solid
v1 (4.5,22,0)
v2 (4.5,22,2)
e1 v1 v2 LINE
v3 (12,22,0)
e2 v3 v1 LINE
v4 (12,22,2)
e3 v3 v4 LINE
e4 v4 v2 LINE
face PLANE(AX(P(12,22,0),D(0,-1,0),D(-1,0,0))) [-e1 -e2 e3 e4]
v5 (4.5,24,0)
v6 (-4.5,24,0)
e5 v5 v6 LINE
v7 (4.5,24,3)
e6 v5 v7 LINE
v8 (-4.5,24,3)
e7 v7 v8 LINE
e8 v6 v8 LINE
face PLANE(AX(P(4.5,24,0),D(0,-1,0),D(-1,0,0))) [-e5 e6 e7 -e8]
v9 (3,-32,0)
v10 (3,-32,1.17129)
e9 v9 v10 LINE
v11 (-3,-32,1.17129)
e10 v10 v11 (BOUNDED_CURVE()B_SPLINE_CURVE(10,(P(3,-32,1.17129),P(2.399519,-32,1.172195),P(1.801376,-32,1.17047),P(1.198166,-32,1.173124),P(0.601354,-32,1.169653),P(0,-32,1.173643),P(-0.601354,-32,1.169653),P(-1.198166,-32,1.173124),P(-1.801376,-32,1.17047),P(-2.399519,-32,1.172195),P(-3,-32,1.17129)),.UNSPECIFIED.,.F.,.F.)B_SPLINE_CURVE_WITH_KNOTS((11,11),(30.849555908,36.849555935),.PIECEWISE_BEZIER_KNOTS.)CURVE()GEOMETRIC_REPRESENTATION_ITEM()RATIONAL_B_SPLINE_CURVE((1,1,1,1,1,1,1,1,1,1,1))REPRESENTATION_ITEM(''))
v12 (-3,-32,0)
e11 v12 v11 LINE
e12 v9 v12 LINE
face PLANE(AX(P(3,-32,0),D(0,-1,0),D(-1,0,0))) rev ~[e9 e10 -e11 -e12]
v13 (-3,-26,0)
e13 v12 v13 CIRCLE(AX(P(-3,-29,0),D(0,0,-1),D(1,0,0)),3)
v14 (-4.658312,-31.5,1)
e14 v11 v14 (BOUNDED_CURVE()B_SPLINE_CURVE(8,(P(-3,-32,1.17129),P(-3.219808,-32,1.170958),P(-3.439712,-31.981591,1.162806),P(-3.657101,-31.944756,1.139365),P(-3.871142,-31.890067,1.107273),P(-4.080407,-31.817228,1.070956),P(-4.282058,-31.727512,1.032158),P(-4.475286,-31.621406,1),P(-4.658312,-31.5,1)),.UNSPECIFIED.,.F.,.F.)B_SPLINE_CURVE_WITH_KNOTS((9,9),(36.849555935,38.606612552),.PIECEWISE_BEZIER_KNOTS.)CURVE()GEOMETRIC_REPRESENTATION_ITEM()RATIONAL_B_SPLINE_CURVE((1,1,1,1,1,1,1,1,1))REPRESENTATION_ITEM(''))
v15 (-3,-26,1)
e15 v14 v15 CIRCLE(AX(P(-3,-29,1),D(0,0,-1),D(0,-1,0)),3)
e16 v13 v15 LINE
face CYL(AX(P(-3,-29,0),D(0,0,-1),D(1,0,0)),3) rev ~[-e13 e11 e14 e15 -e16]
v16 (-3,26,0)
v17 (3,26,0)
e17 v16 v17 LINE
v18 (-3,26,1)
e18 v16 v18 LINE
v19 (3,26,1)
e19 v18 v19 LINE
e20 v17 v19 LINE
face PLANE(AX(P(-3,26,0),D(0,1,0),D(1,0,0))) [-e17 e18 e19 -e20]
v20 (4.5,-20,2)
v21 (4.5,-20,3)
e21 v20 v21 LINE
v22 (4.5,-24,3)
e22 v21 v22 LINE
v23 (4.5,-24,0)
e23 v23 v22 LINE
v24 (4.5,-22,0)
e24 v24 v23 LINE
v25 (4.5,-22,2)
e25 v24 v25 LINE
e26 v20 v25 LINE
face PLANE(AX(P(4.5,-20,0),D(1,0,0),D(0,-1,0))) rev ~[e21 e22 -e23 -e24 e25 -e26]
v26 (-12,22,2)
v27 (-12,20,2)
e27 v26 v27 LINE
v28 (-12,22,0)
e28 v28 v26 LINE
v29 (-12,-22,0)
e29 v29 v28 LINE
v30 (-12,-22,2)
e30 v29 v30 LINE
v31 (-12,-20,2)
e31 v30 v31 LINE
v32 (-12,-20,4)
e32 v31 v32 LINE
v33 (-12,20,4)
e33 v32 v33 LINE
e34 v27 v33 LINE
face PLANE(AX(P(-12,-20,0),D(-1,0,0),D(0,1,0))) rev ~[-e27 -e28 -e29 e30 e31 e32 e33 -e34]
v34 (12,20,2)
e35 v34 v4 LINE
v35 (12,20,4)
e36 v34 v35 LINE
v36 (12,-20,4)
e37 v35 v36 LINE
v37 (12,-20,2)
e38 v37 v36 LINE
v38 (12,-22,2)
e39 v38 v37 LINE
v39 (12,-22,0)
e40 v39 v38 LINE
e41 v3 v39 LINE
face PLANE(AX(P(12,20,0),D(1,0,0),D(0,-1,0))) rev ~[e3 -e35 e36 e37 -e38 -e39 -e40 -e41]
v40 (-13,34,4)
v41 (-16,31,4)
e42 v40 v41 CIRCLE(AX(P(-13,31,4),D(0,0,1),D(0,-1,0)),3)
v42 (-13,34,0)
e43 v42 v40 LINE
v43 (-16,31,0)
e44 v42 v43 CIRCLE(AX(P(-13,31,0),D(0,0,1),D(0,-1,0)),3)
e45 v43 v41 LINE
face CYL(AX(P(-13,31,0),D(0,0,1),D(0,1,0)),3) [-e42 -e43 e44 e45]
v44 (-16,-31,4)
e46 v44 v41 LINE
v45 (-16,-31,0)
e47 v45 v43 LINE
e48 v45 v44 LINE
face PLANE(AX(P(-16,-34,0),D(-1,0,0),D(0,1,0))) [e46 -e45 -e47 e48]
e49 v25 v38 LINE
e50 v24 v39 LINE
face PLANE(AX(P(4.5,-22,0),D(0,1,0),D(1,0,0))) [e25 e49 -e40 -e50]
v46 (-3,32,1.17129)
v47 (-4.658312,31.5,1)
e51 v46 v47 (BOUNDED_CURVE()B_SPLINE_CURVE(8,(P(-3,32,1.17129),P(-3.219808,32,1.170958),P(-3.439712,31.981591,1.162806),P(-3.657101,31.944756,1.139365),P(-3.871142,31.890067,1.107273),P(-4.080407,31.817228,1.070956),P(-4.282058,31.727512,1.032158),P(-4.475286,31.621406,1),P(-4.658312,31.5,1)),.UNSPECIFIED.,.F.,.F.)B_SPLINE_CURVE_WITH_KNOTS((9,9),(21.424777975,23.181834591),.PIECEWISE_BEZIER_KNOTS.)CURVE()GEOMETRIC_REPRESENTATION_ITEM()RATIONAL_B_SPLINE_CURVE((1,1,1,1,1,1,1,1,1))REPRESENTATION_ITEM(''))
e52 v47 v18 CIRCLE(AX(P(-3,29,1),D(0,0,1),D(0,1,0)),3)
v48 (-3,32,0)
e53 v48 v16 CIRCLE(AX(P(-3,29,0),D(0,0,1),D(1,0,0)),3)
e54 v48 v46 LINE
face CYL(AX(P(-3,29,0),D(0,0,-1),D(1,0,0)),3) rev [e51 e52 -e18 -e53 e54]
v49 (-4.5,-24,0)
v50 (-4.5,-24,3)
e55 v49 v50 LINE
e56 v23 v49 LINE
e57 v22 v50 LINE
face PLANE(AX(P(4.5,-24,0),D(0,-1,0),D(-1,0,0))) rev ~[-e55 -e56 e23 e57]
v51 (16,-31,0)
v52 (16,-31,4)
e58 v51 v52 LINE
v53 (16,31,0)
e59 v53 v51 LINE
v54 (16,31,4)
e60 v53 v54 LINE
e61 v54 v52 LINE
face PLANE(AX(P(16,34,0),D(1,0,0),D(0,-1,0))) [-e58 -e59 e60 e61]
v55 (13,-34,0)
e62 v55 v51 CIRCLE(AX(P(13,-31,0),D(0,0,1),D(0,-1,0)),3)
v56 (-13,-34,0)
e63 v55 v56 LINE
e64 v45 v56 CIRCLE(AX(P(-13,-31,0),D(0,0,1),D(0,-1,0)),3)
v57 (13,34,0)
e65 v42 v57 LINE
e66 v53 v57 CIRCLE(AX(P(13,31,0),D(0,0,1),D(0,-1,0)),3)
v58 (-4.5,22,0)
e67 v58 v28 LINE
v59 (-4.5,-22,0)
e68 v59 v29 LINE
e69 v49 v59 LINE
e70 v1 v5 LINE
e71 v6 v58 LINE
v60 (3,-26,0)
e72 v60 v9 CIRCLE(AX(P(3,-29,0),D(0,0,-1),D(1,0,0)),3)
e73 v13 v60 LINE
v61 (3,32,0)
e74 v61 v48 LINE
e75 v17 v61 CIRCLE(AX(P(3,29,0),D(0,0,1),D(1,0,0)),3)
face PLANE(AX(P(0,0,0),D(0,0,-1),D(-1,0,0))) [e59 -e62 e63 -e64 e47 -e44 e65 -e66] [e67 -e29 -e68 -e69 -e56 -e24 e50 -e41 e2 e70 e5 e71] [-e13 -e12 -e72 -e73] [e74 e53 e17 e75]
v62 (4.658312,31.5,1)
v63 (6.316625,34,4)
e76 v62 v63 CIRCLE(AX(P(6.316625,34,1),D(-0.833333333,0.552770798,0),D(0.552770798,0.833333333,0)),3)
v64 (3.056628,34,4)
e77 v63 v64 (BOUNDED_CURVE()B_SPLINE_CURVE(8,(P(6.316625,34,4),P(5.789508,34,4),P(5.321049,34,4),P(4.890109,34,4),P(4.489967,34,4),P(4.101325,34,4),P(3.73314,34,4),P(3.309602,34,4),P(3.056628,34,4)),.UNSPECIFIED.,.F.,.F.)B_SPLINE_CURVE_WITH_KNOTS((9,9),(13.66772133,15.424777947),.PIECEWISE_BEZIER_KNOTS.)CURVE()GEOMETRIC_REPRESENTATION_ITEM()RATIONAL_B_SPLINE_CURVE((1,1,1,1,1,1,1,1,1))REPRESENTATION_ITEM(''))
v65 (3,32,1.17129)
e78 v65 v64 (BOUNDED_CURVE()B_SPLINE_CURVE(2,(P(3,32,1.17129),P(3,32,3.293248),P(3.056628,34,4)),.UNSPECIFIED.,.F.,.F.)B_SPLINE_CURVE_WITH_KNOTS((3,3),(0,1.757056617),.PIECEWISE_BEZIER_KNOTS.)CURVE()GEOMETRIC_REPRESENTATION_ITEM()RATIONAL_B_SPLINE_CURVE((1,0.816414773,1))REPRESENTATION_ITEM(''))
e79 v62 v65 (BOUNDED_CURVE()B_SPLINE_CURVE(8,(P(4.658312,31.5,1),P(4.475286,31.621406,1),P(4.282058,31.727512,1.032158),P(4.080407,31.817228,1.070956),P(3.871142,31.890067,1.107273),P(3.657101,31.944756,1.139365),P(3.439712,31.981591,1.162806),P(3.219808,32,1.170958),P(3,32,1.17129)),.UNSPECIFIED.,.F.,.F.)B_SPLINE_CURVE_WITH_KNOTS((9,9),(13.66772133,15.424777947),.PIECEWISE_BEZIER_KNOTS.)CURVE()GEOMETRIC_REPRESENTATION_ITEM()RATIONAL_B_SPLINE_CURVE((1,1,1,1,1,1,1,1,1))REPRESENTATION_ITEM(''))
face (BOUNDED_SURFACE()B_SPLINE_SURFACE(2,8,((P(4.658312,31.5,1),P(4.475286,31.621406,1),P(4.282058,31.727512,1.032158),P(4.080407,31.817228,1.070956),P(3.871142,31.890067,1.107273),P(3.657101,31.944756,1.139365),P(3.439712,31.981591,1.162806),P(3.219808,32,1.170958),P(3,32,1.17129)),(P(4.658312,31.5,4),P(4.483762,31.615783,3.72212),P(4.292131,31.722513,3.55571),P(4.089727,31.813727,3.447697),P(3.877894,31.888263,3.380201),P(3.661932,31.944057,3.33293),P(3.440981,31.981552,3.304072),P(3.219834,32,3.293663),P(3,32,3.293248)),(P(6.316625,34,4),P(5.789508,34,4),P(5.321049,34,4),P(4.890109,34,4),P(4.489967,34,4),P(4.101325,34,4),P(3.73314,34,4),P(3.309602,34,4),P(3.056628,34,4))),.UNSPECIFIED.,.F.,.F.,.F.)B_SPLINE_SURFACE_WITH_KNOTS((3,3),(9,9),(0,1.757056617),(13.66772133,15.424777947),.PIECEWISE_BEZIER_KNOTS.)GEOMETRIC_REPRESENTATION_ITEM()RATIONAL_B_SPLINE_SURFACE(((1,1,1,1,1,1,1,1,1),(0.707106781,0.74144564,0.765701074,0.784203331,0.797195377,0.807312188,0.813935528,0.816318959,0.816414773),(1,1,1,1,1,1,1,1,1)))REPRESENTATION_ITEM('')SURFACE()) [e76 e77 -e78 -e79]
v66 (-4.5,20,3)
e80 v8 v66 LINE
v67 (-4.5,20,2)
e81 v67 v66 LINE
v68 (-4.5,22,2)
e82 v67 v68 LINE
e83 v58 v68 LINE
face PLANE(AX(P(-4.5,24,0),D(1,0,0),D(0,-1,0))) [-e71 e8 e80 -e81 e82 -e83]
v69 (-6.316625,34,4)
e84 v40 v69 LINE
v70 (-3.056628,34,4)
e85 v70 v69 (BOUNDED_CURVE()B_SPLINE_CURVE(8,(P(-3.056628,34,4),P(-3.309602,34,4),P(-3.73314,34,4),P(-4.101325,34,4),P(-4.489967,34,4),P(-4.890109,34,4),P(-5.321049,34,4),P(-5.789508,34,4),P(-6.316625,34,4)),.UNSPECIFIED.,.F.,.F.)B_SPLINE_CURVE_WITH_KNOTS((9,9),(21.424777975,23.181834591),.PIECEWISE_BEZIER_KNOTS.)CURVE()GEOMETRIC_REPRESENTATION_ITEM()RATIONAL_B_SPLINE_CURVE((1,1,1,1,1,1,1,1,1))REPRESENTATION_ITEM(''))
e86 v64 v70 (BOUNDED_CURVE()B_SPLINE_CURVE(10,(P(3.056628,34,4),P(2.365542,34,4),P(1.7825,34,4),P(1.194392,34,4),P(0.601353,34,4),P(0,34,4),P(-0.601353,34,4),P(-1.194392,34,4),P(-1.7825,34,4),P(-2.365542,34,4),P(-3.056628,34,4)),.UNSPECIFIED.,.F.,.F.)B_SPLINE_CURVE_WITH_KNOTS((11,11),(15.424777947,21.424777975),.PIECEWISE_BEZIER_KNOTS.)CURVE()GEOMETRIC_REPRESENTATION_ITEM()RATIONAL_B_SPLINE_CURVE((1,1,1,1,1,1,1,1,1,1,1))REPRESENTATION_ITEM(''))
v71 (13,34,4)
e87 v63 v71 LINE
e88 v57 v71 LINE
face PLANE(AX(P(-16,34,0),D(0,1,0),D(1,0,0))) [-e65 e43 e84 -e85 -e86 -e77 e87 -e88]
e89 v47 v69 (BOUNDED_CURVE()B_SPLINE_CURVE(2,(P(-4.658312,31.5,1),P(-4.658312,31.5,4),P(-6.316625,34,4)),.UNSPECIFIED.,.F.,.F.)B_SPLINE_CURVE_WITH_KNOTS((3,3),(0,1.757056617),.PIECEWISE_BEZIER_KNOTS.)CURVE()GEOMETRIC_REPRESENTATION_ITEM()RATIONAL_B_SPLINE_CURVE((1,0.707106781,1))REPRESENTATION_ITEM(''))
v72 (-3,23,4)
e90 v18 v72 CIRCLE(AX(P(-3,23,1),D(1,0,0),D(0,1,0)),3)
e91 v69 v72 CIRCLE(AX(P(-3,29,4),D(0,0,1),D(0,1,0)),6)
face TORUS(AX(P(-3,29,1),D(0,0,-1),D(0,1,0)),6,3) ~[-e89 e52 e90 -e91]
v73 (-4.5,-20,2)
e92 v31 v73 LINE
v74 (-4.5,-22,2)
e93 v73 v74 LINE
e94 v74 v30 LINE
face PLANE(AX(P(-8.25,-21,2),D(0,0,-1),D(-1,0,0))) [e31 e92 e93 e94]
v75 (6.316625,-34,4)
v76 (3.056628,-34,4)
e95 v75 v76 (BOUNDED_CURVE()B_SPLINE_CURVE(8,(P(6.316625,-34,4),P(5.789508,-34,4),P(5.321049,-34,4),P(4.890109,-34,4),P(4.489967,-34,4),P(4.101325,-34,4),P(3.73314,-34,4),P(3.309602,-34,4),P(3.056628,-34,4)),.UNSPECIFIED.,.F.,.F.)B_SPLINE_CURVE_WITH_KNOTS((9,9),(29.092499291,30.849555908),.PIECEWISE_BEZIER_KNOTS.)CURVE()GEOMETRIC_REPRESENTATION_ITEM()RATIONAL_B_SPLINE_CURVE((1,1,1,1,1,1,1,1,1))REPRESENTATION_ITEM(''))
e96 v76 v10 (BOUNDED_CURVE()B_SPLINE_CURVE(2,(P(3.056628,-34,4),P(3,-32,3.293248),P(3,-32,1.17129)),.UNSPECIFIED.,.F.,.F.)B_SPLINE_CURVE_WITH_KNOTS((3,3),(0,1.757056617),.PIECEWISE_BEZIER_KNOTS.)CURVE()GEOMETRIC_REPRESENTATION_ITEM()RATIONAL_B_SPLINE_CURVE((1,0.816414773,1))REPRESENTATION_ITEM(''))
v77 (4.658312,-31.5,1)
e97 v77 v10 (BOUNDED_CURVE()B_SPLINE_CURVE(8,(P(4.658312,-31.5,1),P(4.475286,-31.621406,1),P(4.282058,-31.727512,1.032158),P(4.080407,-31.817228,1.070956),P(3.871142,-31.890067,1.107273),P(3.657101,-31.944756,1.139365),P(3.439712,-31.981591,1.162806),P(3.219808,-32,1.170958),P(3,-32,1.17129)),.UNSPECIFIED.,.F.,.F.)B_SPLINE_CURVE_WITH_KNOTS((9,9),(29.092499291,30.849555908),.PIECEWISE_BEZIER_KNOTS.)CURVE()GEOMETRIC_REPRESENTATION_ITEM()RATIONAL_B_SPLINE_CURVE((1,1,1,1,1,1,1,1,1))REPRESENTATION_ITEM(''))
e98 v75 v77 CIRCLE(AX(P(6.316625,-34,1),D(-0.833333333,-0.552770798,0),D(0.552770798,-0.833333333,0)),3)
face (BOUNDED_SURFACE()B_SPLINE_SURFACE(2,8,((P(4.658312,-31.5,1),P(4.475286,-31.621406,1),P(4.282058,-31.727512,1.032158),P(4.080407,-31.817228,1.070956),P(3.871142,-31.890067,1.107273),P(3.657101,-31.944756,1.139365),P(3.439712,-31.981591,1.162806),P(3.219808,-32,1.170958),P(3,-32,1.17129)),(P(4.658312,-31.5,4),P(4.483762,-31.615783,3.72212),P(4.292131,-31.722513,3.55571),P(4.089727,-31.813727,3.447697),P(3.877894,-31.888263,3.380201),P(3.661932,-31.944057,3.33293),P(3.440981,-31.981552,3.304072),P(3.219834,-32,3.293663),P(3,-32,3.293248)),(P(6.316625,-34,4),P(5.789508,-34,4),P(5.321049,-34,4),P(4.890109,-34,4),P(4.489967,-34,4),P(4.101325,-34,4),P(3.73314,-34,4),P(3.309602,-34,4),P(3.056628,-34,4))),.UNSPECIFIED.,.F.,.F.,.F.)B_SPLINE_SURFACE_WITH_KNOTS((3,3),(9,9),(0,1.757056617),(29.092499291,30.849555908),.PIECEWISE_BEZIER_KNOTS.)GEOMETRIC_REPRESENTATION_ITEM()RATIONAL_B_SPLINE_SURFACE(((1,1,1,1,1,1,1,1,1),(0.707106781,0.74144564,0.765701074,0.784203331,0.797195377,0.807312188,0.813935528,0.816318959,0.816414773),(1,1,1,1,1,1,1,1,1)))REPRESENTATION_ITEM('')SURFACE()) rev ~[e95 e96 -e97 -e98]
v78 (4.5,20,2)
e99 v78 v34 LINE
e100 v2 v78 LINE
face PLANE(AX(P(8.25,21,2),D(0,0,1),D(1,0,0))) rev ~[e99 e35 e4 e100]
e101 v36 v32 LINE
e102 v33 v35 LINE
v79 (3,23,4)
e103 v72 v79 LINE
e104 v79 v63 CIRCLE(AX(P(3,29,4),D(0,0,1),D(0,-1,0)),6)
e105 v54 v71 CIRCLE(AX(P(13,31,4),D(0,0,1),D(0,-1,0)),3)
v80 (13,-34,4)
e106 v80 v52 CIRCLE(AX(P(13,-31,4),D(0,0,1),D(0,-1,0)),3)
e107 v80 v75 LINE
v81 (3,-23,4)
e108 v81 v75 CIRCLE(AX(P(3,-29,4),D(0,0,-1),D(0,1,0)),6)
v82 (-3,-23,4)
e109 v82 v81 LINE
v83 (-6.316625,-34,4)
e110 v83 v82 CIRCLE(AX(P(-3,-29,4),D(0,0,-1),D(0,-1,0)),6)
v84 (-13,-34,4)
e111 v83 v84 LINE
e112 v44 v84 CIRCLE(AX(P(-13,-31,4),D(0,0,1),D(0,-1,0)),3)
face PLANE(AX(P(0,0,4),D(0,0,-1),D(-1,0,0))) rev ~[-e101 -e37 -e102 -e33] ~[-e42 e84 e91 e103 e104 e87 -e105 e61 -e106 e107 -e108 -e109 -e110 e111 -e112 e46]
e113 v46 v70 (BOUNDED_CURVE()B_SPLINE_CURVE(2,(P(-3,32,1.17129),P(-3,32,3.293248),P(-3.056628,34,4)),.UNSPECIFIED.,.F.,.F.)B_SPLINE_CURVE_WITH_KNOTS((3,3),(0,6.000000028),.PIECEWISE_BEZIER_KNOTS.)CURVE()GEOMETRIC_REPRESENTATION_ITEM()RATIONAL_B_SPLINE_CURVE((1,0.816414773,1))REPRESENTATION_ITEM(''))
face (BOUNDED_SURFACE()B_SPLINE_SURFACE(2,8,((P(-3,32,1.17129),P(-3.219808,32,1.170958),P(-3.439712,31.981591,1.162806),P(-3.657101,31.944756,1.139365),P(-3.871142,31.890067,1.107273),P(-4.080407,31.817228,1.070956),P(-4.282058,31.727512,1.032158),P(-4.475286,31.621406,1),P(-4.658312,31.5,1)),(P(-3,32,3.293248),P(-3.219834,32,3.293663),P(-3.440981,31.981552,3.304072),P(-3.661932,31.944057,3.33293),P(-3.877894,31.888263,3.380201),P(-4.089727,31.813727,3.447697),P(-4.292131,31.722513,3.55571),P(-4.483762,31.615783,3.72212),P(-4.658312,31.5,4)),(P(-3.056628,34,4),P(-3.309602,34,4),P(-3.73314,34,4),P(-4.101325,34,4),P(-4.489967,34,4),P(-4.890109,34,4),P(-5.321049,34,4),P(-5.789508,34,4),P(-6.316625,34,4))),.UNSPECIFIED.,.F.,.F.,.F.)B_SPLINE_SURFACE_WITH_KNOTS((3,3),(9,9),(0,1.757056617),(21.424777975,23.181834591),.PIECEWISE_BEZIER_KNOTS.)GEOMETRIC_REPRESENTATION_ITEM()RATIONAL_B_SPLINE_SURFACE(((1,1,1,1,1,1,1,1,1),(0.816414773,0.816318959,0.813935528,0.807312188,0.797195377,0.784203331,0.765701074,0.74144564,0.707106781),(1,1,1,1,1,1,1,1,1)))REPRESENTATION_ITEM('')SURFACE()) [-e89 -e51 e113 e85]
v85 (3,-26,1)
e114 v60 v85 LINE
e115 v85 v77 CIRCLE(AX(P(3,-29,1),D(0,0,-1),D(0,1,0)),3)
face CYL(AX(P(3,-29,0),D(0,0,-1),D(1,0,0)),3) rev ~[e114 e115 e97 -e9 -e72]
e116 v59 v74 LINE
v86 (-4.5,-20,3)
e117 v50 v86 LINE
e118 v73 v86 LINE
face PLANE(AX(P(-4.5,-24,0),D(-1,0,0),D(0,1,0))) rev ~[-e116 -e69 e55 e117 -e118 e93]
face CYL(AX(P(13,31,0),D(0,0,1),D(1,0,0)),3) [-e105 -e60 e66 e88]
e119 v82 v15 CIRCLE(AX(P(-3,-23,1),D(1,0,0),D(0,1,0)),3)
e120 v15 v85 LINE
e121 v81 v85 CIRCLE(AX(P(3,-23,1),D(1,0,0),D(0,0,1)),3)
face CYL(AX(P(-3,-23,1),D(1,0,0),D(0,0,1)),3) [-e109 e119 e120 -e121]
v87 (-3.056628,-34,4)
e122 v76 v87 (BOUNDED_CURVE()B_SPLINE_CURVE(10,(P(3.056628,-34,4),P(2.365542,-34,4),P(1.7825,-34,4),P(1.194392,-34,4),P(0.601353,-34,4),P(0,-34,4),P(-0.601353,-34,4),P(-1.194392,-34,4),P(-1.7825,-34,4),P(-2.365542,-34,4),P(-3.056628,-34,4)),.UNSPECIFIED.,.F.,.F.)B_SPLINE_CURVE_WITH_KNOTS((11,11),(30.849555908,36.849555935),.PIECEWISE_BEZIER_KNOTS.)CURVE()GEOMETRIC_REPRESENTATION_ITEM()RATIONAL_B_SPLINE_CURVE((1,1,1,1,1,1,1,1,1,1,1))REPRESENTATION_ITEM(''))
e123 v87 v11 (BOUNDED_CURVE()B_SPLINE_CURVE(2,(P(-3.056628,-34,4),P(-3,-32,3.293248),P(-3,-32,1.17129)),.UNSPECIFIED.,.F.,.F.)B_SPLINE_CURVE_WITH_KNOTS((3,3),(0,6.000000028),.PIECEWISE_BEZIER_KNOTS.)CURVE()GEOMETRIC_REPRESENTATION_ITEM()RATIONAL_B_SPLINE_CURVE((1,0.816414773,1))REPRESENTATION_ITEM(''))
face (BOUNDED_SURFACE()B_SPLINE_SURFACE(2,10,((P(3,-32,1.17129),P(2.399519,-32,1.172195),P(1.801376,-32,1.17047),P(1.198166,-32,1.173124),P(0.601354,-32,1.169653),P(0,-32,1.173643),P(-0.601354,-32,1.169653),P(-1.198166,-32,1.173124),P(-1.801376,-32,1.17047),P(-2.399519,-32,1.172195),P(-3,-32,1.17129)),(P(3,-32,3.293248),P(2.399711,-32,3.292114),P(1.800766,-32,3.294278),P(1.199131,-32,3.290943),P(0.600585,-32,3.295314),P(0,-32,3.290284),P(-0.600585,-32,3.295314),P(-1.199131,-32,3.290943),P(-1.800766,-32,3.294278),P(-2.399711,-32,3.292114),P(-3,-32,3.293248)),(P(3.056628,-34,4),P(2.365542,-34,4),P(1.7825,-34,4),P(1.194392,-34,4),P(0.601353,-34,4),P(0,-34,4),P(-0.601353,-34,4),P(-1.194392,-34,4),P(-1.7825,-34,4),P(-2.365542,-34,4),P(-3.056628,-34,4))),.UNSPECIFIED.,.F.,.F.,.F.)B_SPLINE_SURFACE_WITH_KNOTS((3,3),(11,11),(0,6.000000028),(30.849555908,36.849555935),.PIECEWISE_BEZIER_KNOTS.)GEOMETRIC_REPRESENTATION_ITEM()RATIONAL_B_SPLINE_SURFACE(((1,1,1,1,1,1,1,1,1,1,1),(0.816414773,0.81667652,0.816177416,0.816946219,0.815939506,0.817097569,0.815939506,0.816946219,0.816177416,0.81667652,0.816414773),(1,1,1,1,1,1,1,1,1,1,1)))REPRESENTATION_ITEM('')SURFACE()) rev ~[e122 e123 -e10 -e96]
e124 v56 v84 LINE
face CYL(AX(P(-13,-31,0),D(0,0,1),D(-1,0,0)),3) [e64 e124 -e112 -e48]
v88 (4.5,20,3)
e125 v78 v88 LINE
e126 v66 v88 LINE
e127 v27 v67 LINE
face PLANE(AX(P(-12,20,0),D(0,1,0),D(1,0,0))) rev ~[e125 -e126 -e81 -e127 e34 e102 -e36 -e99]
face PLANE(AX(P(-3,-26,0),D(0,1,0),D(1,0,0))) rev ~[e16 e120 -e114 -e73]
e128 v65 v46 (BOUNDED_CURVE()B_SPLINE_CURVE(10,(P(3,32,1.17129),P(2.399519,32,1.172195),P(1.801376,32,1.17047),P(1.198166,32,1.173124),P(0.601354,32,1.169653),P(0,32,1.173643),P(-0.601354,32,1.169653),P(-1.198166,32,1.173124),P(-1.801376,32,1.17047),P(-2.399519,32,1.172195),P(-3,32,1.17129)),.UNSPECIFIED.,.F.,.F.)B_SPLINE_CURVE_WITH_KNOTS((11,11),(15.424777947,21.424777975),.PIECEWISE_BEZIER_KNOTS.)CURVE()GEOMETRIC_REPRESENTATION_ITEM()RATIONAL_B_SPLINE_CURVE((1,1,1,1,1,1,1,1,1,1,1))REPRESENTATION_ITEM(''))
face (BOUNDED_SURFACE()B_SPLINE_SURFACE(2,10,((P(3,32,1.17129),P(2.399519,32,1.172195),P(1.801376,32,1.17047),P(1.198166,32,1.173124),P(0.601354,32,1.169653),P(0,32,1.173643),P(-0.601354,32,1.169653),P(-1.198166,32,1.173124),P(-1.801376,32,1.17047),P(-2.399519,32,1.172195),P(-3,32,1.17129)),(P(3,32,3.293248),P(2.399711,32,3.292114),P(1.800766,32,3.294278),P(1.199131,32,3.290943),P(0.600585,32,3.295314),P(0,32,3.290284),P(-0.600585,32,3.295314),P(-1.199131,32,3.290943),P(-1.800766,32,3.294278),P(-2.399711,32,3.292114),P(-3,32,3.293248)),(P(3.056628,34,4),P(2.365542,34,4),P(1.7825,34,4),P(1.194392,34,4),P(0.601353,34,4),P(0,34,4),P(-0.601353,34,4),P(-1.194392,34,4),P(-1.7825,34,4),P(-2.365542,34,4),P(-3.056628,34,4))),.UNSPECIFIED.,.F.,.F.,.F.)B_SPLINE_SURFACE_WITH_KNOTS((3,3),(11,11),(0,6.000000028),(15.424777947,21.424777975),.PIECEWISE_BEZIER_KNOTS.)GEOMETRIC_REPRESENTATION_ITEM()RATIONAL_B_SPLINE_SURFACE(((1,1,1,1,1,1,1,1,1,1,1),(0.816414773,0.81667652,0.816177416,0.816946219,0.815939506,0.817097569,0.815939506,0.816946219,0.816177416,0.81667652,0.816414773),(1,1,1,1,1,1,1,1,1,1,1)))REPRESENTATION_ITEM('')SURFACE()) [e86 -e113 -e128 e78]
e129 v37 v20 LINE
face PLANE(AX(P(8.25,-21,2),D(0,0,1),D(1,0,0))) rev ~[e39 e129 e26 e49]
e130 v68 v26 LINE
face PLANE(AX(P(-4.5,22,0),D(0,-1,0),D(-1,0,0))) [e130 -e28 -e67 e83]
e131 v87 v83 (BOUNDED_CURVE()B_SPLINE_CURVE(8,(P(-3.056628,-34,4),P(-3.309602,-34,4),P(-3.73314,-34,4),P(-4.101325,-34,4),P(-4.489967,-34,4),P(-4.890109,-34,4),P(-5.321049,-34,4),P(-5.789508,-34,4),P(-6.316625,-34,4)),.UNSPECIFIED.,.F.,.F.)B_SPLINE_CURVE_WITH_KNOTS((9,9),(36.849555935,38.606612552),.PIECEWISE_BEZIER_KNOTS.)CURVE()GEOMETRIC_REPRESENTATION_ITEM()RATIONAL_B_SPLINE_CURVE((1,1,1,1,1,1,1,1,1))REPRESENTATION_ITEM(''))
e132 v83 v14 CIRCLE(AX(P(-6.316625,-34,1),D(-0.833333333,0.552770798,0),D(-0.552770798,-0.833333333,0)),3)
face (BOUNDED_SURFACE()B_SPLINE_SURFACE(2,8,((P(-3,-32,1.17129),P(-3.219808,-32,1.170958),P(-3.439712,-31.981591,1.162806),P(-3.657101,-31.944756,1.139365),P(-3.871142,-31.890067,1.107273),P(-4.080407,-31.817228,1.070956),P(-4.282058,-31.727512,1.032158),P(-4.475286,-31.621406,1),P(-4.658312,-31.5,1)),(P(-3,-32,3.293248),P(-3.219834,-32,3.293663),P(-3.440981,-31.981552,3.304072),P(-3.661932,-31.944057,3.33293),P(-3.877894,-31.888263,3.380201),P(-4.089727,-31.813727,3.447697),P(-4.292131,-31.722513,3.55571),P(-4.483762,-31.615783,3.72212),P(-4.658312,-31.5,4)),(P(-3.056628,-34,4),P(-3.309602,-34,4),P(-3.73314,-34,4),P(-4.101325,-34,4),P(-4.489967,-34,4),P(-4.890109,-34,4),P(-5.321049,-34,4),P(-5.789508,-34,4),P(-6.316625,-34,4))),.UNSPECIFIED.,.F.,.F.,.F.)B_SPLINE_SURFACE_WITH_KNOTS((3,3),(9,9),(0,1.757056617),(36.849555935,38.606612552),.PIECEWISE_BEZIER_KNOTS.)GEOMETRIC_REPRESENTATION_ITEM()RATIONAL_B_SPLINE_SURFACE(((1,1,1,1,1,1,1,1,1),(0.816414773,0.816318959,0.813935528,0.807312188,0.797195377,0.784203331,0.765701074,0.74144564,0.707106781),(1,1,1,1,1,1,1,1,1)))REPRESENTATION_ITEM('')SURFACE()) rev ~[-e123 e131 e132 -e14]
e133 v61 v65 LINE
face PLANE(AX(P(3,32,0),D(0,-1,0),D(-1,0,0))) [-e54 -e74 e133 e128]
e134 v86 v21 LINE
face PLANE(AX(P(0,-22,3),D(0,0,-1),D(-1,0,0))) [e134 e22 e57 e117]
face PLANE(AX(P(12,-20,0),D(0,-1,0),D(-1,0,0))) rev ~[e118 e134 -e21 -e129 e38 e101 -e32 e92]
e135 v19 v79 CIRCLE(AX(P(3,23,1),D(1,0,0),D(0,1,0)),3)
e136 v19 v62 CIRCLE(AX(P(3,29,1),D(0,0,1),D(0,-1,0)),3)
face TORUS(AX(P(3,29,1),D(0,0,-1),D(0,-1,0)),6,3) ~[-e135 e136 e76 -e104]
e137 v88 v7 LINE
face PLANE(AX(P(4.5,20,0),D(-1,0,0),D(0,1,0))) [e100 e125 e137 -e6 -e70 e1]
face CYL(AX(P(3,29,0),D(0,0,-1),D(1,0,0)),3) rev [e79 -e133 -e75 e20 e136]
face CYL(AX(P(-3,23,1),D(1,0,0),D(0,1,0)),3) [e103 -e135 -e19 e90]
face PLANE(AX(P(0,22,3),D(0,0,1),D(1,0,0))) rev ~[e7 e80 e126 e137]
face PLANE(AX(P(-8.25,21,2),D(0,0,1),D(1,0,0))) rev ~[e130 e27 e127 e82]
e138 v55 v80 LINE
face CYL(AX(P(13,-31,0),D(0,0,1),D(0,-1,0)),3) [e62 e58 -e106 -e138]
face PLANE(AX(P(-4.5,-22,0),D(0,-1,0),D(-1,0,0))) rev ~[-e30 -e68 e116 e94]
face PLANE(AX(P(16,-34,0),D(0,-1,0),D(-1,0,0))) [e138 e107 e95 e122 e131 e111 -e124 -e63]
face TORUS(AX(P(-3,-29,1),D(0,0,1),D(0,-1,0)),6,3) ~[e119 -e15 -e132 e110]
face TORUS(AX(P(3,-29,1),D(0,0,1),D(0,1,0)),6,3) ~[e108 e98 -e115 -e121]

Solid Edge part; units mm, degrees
sketch "Sketch1" plane through (0, 0, 0) normal (0, 0, 1) x (1, 0, 0)
  line L0 (-3, -26) -> (3, -26)
  line L1 (3, -32) -> (-3, -32)
  arc A0 (-3, -32) -> (-3, -26) centre (-3, -29) cw
  arc A1 (3, -26) -> (3, -32) centre (3, -29) cw
  line L2 (-16, -34) -> (-16, 34)
  line L3 (-16, 34) -> (16, 34)
  line L4 (16, 34) -> (16, -34)
  line L5 (16, -34) -> (-16, -34)
  line L6 (12, -20) -> (-12, -20)
  line L7 (-12, -20) -> (-12, 20)
  line L8 (-12, 20) -> (12, 20)
  line L9 (12, 20) -> (12, -20)
  line L10 (3, 32) -> (-3, 32)
  arc A2 (-3, 32) -> (-3, 26) centre (-3, 29) ccw
  line L11 (-3, 26) -> (3, 26)
  arc A3 (3, 26) -> (3, 32) centre (3, 29) ccw
extrude "Protrusion1" add sketch "Sketch1" along normal blind 4
sketch "Sketch2" plane through (0, 0, 0) normal (0, 0, 1) x (1, 0, 0)
  line L0 (4.5, -24) -> (-4.5, -24)
  line L1 (-4.5, -24) -> (-4.5, -20)
  line L2 (-4.5, -20) -> (4.5, -20)
  line L3 (4.5, -20) -> (4.5, -24)
  line L4 (-4.5, 20) -> (4.5, 20)
  line L5 (4.5, 20) -> (4.5, 24)
  line L6 (4.5, 24) -> (-4.5, 24)
  line L7 (-4.5, 24) -> (-4.5, 20)
extrude "ExtrudedCutout_1" cut sketch "Sketch2" along normal blind 3
fillet "Round_1" radius 3 12 edges at (-16, -34, 2) (16, -34, 2) (16, 34, 2) (-16, 34, 2) (0, 26, 4) (6, 29, 4) (0, 32, 4) (-6, 29, 4) (0, -32, 4) (-6, -29, 4) (0, -26, 4) (6, -29, 4)
sketch "Sketch3" plane through (0, 0, 0) normal (0, 0, -1) x (-1, 0, 0)
  line L0 (-12, 22) -> (-4.5, 22)
  line L1 (-4.5, 22) -> (-4.5, 20)
  line L2 (-4.5, 20) -> (-12, 20)
  line L3 (-12, 20) -> (-12, 22)
  line L4 (4.5, 22) -> (12, 22)
  line L5 (12, 22) -> (12, 20)
  line L6 (12, 20) -> (4.5, 20)
  line L7 (4.5, 20) -> (4.5, 22)
  line L8 (-12, -20) -> (-4.5, -20)
  line L9 (-4.5, -20) -> (-4.5, -22)
  line L10 (-4.5, -22) -> (-12, -22)
  line L11 (-12, -22) -> (-12, -20)
  line L12 (12, -20) -> (4.5, -20)
  line L13 (4.5, -20) -> (4.5, -22)
  line L14 (4.5, -22) -> (12, -22)
  line L15 (12, -22) -> (12, -20)
extrude "ExtrudedCutout_2" cut sketch "Sketch3" against normal blind 2
